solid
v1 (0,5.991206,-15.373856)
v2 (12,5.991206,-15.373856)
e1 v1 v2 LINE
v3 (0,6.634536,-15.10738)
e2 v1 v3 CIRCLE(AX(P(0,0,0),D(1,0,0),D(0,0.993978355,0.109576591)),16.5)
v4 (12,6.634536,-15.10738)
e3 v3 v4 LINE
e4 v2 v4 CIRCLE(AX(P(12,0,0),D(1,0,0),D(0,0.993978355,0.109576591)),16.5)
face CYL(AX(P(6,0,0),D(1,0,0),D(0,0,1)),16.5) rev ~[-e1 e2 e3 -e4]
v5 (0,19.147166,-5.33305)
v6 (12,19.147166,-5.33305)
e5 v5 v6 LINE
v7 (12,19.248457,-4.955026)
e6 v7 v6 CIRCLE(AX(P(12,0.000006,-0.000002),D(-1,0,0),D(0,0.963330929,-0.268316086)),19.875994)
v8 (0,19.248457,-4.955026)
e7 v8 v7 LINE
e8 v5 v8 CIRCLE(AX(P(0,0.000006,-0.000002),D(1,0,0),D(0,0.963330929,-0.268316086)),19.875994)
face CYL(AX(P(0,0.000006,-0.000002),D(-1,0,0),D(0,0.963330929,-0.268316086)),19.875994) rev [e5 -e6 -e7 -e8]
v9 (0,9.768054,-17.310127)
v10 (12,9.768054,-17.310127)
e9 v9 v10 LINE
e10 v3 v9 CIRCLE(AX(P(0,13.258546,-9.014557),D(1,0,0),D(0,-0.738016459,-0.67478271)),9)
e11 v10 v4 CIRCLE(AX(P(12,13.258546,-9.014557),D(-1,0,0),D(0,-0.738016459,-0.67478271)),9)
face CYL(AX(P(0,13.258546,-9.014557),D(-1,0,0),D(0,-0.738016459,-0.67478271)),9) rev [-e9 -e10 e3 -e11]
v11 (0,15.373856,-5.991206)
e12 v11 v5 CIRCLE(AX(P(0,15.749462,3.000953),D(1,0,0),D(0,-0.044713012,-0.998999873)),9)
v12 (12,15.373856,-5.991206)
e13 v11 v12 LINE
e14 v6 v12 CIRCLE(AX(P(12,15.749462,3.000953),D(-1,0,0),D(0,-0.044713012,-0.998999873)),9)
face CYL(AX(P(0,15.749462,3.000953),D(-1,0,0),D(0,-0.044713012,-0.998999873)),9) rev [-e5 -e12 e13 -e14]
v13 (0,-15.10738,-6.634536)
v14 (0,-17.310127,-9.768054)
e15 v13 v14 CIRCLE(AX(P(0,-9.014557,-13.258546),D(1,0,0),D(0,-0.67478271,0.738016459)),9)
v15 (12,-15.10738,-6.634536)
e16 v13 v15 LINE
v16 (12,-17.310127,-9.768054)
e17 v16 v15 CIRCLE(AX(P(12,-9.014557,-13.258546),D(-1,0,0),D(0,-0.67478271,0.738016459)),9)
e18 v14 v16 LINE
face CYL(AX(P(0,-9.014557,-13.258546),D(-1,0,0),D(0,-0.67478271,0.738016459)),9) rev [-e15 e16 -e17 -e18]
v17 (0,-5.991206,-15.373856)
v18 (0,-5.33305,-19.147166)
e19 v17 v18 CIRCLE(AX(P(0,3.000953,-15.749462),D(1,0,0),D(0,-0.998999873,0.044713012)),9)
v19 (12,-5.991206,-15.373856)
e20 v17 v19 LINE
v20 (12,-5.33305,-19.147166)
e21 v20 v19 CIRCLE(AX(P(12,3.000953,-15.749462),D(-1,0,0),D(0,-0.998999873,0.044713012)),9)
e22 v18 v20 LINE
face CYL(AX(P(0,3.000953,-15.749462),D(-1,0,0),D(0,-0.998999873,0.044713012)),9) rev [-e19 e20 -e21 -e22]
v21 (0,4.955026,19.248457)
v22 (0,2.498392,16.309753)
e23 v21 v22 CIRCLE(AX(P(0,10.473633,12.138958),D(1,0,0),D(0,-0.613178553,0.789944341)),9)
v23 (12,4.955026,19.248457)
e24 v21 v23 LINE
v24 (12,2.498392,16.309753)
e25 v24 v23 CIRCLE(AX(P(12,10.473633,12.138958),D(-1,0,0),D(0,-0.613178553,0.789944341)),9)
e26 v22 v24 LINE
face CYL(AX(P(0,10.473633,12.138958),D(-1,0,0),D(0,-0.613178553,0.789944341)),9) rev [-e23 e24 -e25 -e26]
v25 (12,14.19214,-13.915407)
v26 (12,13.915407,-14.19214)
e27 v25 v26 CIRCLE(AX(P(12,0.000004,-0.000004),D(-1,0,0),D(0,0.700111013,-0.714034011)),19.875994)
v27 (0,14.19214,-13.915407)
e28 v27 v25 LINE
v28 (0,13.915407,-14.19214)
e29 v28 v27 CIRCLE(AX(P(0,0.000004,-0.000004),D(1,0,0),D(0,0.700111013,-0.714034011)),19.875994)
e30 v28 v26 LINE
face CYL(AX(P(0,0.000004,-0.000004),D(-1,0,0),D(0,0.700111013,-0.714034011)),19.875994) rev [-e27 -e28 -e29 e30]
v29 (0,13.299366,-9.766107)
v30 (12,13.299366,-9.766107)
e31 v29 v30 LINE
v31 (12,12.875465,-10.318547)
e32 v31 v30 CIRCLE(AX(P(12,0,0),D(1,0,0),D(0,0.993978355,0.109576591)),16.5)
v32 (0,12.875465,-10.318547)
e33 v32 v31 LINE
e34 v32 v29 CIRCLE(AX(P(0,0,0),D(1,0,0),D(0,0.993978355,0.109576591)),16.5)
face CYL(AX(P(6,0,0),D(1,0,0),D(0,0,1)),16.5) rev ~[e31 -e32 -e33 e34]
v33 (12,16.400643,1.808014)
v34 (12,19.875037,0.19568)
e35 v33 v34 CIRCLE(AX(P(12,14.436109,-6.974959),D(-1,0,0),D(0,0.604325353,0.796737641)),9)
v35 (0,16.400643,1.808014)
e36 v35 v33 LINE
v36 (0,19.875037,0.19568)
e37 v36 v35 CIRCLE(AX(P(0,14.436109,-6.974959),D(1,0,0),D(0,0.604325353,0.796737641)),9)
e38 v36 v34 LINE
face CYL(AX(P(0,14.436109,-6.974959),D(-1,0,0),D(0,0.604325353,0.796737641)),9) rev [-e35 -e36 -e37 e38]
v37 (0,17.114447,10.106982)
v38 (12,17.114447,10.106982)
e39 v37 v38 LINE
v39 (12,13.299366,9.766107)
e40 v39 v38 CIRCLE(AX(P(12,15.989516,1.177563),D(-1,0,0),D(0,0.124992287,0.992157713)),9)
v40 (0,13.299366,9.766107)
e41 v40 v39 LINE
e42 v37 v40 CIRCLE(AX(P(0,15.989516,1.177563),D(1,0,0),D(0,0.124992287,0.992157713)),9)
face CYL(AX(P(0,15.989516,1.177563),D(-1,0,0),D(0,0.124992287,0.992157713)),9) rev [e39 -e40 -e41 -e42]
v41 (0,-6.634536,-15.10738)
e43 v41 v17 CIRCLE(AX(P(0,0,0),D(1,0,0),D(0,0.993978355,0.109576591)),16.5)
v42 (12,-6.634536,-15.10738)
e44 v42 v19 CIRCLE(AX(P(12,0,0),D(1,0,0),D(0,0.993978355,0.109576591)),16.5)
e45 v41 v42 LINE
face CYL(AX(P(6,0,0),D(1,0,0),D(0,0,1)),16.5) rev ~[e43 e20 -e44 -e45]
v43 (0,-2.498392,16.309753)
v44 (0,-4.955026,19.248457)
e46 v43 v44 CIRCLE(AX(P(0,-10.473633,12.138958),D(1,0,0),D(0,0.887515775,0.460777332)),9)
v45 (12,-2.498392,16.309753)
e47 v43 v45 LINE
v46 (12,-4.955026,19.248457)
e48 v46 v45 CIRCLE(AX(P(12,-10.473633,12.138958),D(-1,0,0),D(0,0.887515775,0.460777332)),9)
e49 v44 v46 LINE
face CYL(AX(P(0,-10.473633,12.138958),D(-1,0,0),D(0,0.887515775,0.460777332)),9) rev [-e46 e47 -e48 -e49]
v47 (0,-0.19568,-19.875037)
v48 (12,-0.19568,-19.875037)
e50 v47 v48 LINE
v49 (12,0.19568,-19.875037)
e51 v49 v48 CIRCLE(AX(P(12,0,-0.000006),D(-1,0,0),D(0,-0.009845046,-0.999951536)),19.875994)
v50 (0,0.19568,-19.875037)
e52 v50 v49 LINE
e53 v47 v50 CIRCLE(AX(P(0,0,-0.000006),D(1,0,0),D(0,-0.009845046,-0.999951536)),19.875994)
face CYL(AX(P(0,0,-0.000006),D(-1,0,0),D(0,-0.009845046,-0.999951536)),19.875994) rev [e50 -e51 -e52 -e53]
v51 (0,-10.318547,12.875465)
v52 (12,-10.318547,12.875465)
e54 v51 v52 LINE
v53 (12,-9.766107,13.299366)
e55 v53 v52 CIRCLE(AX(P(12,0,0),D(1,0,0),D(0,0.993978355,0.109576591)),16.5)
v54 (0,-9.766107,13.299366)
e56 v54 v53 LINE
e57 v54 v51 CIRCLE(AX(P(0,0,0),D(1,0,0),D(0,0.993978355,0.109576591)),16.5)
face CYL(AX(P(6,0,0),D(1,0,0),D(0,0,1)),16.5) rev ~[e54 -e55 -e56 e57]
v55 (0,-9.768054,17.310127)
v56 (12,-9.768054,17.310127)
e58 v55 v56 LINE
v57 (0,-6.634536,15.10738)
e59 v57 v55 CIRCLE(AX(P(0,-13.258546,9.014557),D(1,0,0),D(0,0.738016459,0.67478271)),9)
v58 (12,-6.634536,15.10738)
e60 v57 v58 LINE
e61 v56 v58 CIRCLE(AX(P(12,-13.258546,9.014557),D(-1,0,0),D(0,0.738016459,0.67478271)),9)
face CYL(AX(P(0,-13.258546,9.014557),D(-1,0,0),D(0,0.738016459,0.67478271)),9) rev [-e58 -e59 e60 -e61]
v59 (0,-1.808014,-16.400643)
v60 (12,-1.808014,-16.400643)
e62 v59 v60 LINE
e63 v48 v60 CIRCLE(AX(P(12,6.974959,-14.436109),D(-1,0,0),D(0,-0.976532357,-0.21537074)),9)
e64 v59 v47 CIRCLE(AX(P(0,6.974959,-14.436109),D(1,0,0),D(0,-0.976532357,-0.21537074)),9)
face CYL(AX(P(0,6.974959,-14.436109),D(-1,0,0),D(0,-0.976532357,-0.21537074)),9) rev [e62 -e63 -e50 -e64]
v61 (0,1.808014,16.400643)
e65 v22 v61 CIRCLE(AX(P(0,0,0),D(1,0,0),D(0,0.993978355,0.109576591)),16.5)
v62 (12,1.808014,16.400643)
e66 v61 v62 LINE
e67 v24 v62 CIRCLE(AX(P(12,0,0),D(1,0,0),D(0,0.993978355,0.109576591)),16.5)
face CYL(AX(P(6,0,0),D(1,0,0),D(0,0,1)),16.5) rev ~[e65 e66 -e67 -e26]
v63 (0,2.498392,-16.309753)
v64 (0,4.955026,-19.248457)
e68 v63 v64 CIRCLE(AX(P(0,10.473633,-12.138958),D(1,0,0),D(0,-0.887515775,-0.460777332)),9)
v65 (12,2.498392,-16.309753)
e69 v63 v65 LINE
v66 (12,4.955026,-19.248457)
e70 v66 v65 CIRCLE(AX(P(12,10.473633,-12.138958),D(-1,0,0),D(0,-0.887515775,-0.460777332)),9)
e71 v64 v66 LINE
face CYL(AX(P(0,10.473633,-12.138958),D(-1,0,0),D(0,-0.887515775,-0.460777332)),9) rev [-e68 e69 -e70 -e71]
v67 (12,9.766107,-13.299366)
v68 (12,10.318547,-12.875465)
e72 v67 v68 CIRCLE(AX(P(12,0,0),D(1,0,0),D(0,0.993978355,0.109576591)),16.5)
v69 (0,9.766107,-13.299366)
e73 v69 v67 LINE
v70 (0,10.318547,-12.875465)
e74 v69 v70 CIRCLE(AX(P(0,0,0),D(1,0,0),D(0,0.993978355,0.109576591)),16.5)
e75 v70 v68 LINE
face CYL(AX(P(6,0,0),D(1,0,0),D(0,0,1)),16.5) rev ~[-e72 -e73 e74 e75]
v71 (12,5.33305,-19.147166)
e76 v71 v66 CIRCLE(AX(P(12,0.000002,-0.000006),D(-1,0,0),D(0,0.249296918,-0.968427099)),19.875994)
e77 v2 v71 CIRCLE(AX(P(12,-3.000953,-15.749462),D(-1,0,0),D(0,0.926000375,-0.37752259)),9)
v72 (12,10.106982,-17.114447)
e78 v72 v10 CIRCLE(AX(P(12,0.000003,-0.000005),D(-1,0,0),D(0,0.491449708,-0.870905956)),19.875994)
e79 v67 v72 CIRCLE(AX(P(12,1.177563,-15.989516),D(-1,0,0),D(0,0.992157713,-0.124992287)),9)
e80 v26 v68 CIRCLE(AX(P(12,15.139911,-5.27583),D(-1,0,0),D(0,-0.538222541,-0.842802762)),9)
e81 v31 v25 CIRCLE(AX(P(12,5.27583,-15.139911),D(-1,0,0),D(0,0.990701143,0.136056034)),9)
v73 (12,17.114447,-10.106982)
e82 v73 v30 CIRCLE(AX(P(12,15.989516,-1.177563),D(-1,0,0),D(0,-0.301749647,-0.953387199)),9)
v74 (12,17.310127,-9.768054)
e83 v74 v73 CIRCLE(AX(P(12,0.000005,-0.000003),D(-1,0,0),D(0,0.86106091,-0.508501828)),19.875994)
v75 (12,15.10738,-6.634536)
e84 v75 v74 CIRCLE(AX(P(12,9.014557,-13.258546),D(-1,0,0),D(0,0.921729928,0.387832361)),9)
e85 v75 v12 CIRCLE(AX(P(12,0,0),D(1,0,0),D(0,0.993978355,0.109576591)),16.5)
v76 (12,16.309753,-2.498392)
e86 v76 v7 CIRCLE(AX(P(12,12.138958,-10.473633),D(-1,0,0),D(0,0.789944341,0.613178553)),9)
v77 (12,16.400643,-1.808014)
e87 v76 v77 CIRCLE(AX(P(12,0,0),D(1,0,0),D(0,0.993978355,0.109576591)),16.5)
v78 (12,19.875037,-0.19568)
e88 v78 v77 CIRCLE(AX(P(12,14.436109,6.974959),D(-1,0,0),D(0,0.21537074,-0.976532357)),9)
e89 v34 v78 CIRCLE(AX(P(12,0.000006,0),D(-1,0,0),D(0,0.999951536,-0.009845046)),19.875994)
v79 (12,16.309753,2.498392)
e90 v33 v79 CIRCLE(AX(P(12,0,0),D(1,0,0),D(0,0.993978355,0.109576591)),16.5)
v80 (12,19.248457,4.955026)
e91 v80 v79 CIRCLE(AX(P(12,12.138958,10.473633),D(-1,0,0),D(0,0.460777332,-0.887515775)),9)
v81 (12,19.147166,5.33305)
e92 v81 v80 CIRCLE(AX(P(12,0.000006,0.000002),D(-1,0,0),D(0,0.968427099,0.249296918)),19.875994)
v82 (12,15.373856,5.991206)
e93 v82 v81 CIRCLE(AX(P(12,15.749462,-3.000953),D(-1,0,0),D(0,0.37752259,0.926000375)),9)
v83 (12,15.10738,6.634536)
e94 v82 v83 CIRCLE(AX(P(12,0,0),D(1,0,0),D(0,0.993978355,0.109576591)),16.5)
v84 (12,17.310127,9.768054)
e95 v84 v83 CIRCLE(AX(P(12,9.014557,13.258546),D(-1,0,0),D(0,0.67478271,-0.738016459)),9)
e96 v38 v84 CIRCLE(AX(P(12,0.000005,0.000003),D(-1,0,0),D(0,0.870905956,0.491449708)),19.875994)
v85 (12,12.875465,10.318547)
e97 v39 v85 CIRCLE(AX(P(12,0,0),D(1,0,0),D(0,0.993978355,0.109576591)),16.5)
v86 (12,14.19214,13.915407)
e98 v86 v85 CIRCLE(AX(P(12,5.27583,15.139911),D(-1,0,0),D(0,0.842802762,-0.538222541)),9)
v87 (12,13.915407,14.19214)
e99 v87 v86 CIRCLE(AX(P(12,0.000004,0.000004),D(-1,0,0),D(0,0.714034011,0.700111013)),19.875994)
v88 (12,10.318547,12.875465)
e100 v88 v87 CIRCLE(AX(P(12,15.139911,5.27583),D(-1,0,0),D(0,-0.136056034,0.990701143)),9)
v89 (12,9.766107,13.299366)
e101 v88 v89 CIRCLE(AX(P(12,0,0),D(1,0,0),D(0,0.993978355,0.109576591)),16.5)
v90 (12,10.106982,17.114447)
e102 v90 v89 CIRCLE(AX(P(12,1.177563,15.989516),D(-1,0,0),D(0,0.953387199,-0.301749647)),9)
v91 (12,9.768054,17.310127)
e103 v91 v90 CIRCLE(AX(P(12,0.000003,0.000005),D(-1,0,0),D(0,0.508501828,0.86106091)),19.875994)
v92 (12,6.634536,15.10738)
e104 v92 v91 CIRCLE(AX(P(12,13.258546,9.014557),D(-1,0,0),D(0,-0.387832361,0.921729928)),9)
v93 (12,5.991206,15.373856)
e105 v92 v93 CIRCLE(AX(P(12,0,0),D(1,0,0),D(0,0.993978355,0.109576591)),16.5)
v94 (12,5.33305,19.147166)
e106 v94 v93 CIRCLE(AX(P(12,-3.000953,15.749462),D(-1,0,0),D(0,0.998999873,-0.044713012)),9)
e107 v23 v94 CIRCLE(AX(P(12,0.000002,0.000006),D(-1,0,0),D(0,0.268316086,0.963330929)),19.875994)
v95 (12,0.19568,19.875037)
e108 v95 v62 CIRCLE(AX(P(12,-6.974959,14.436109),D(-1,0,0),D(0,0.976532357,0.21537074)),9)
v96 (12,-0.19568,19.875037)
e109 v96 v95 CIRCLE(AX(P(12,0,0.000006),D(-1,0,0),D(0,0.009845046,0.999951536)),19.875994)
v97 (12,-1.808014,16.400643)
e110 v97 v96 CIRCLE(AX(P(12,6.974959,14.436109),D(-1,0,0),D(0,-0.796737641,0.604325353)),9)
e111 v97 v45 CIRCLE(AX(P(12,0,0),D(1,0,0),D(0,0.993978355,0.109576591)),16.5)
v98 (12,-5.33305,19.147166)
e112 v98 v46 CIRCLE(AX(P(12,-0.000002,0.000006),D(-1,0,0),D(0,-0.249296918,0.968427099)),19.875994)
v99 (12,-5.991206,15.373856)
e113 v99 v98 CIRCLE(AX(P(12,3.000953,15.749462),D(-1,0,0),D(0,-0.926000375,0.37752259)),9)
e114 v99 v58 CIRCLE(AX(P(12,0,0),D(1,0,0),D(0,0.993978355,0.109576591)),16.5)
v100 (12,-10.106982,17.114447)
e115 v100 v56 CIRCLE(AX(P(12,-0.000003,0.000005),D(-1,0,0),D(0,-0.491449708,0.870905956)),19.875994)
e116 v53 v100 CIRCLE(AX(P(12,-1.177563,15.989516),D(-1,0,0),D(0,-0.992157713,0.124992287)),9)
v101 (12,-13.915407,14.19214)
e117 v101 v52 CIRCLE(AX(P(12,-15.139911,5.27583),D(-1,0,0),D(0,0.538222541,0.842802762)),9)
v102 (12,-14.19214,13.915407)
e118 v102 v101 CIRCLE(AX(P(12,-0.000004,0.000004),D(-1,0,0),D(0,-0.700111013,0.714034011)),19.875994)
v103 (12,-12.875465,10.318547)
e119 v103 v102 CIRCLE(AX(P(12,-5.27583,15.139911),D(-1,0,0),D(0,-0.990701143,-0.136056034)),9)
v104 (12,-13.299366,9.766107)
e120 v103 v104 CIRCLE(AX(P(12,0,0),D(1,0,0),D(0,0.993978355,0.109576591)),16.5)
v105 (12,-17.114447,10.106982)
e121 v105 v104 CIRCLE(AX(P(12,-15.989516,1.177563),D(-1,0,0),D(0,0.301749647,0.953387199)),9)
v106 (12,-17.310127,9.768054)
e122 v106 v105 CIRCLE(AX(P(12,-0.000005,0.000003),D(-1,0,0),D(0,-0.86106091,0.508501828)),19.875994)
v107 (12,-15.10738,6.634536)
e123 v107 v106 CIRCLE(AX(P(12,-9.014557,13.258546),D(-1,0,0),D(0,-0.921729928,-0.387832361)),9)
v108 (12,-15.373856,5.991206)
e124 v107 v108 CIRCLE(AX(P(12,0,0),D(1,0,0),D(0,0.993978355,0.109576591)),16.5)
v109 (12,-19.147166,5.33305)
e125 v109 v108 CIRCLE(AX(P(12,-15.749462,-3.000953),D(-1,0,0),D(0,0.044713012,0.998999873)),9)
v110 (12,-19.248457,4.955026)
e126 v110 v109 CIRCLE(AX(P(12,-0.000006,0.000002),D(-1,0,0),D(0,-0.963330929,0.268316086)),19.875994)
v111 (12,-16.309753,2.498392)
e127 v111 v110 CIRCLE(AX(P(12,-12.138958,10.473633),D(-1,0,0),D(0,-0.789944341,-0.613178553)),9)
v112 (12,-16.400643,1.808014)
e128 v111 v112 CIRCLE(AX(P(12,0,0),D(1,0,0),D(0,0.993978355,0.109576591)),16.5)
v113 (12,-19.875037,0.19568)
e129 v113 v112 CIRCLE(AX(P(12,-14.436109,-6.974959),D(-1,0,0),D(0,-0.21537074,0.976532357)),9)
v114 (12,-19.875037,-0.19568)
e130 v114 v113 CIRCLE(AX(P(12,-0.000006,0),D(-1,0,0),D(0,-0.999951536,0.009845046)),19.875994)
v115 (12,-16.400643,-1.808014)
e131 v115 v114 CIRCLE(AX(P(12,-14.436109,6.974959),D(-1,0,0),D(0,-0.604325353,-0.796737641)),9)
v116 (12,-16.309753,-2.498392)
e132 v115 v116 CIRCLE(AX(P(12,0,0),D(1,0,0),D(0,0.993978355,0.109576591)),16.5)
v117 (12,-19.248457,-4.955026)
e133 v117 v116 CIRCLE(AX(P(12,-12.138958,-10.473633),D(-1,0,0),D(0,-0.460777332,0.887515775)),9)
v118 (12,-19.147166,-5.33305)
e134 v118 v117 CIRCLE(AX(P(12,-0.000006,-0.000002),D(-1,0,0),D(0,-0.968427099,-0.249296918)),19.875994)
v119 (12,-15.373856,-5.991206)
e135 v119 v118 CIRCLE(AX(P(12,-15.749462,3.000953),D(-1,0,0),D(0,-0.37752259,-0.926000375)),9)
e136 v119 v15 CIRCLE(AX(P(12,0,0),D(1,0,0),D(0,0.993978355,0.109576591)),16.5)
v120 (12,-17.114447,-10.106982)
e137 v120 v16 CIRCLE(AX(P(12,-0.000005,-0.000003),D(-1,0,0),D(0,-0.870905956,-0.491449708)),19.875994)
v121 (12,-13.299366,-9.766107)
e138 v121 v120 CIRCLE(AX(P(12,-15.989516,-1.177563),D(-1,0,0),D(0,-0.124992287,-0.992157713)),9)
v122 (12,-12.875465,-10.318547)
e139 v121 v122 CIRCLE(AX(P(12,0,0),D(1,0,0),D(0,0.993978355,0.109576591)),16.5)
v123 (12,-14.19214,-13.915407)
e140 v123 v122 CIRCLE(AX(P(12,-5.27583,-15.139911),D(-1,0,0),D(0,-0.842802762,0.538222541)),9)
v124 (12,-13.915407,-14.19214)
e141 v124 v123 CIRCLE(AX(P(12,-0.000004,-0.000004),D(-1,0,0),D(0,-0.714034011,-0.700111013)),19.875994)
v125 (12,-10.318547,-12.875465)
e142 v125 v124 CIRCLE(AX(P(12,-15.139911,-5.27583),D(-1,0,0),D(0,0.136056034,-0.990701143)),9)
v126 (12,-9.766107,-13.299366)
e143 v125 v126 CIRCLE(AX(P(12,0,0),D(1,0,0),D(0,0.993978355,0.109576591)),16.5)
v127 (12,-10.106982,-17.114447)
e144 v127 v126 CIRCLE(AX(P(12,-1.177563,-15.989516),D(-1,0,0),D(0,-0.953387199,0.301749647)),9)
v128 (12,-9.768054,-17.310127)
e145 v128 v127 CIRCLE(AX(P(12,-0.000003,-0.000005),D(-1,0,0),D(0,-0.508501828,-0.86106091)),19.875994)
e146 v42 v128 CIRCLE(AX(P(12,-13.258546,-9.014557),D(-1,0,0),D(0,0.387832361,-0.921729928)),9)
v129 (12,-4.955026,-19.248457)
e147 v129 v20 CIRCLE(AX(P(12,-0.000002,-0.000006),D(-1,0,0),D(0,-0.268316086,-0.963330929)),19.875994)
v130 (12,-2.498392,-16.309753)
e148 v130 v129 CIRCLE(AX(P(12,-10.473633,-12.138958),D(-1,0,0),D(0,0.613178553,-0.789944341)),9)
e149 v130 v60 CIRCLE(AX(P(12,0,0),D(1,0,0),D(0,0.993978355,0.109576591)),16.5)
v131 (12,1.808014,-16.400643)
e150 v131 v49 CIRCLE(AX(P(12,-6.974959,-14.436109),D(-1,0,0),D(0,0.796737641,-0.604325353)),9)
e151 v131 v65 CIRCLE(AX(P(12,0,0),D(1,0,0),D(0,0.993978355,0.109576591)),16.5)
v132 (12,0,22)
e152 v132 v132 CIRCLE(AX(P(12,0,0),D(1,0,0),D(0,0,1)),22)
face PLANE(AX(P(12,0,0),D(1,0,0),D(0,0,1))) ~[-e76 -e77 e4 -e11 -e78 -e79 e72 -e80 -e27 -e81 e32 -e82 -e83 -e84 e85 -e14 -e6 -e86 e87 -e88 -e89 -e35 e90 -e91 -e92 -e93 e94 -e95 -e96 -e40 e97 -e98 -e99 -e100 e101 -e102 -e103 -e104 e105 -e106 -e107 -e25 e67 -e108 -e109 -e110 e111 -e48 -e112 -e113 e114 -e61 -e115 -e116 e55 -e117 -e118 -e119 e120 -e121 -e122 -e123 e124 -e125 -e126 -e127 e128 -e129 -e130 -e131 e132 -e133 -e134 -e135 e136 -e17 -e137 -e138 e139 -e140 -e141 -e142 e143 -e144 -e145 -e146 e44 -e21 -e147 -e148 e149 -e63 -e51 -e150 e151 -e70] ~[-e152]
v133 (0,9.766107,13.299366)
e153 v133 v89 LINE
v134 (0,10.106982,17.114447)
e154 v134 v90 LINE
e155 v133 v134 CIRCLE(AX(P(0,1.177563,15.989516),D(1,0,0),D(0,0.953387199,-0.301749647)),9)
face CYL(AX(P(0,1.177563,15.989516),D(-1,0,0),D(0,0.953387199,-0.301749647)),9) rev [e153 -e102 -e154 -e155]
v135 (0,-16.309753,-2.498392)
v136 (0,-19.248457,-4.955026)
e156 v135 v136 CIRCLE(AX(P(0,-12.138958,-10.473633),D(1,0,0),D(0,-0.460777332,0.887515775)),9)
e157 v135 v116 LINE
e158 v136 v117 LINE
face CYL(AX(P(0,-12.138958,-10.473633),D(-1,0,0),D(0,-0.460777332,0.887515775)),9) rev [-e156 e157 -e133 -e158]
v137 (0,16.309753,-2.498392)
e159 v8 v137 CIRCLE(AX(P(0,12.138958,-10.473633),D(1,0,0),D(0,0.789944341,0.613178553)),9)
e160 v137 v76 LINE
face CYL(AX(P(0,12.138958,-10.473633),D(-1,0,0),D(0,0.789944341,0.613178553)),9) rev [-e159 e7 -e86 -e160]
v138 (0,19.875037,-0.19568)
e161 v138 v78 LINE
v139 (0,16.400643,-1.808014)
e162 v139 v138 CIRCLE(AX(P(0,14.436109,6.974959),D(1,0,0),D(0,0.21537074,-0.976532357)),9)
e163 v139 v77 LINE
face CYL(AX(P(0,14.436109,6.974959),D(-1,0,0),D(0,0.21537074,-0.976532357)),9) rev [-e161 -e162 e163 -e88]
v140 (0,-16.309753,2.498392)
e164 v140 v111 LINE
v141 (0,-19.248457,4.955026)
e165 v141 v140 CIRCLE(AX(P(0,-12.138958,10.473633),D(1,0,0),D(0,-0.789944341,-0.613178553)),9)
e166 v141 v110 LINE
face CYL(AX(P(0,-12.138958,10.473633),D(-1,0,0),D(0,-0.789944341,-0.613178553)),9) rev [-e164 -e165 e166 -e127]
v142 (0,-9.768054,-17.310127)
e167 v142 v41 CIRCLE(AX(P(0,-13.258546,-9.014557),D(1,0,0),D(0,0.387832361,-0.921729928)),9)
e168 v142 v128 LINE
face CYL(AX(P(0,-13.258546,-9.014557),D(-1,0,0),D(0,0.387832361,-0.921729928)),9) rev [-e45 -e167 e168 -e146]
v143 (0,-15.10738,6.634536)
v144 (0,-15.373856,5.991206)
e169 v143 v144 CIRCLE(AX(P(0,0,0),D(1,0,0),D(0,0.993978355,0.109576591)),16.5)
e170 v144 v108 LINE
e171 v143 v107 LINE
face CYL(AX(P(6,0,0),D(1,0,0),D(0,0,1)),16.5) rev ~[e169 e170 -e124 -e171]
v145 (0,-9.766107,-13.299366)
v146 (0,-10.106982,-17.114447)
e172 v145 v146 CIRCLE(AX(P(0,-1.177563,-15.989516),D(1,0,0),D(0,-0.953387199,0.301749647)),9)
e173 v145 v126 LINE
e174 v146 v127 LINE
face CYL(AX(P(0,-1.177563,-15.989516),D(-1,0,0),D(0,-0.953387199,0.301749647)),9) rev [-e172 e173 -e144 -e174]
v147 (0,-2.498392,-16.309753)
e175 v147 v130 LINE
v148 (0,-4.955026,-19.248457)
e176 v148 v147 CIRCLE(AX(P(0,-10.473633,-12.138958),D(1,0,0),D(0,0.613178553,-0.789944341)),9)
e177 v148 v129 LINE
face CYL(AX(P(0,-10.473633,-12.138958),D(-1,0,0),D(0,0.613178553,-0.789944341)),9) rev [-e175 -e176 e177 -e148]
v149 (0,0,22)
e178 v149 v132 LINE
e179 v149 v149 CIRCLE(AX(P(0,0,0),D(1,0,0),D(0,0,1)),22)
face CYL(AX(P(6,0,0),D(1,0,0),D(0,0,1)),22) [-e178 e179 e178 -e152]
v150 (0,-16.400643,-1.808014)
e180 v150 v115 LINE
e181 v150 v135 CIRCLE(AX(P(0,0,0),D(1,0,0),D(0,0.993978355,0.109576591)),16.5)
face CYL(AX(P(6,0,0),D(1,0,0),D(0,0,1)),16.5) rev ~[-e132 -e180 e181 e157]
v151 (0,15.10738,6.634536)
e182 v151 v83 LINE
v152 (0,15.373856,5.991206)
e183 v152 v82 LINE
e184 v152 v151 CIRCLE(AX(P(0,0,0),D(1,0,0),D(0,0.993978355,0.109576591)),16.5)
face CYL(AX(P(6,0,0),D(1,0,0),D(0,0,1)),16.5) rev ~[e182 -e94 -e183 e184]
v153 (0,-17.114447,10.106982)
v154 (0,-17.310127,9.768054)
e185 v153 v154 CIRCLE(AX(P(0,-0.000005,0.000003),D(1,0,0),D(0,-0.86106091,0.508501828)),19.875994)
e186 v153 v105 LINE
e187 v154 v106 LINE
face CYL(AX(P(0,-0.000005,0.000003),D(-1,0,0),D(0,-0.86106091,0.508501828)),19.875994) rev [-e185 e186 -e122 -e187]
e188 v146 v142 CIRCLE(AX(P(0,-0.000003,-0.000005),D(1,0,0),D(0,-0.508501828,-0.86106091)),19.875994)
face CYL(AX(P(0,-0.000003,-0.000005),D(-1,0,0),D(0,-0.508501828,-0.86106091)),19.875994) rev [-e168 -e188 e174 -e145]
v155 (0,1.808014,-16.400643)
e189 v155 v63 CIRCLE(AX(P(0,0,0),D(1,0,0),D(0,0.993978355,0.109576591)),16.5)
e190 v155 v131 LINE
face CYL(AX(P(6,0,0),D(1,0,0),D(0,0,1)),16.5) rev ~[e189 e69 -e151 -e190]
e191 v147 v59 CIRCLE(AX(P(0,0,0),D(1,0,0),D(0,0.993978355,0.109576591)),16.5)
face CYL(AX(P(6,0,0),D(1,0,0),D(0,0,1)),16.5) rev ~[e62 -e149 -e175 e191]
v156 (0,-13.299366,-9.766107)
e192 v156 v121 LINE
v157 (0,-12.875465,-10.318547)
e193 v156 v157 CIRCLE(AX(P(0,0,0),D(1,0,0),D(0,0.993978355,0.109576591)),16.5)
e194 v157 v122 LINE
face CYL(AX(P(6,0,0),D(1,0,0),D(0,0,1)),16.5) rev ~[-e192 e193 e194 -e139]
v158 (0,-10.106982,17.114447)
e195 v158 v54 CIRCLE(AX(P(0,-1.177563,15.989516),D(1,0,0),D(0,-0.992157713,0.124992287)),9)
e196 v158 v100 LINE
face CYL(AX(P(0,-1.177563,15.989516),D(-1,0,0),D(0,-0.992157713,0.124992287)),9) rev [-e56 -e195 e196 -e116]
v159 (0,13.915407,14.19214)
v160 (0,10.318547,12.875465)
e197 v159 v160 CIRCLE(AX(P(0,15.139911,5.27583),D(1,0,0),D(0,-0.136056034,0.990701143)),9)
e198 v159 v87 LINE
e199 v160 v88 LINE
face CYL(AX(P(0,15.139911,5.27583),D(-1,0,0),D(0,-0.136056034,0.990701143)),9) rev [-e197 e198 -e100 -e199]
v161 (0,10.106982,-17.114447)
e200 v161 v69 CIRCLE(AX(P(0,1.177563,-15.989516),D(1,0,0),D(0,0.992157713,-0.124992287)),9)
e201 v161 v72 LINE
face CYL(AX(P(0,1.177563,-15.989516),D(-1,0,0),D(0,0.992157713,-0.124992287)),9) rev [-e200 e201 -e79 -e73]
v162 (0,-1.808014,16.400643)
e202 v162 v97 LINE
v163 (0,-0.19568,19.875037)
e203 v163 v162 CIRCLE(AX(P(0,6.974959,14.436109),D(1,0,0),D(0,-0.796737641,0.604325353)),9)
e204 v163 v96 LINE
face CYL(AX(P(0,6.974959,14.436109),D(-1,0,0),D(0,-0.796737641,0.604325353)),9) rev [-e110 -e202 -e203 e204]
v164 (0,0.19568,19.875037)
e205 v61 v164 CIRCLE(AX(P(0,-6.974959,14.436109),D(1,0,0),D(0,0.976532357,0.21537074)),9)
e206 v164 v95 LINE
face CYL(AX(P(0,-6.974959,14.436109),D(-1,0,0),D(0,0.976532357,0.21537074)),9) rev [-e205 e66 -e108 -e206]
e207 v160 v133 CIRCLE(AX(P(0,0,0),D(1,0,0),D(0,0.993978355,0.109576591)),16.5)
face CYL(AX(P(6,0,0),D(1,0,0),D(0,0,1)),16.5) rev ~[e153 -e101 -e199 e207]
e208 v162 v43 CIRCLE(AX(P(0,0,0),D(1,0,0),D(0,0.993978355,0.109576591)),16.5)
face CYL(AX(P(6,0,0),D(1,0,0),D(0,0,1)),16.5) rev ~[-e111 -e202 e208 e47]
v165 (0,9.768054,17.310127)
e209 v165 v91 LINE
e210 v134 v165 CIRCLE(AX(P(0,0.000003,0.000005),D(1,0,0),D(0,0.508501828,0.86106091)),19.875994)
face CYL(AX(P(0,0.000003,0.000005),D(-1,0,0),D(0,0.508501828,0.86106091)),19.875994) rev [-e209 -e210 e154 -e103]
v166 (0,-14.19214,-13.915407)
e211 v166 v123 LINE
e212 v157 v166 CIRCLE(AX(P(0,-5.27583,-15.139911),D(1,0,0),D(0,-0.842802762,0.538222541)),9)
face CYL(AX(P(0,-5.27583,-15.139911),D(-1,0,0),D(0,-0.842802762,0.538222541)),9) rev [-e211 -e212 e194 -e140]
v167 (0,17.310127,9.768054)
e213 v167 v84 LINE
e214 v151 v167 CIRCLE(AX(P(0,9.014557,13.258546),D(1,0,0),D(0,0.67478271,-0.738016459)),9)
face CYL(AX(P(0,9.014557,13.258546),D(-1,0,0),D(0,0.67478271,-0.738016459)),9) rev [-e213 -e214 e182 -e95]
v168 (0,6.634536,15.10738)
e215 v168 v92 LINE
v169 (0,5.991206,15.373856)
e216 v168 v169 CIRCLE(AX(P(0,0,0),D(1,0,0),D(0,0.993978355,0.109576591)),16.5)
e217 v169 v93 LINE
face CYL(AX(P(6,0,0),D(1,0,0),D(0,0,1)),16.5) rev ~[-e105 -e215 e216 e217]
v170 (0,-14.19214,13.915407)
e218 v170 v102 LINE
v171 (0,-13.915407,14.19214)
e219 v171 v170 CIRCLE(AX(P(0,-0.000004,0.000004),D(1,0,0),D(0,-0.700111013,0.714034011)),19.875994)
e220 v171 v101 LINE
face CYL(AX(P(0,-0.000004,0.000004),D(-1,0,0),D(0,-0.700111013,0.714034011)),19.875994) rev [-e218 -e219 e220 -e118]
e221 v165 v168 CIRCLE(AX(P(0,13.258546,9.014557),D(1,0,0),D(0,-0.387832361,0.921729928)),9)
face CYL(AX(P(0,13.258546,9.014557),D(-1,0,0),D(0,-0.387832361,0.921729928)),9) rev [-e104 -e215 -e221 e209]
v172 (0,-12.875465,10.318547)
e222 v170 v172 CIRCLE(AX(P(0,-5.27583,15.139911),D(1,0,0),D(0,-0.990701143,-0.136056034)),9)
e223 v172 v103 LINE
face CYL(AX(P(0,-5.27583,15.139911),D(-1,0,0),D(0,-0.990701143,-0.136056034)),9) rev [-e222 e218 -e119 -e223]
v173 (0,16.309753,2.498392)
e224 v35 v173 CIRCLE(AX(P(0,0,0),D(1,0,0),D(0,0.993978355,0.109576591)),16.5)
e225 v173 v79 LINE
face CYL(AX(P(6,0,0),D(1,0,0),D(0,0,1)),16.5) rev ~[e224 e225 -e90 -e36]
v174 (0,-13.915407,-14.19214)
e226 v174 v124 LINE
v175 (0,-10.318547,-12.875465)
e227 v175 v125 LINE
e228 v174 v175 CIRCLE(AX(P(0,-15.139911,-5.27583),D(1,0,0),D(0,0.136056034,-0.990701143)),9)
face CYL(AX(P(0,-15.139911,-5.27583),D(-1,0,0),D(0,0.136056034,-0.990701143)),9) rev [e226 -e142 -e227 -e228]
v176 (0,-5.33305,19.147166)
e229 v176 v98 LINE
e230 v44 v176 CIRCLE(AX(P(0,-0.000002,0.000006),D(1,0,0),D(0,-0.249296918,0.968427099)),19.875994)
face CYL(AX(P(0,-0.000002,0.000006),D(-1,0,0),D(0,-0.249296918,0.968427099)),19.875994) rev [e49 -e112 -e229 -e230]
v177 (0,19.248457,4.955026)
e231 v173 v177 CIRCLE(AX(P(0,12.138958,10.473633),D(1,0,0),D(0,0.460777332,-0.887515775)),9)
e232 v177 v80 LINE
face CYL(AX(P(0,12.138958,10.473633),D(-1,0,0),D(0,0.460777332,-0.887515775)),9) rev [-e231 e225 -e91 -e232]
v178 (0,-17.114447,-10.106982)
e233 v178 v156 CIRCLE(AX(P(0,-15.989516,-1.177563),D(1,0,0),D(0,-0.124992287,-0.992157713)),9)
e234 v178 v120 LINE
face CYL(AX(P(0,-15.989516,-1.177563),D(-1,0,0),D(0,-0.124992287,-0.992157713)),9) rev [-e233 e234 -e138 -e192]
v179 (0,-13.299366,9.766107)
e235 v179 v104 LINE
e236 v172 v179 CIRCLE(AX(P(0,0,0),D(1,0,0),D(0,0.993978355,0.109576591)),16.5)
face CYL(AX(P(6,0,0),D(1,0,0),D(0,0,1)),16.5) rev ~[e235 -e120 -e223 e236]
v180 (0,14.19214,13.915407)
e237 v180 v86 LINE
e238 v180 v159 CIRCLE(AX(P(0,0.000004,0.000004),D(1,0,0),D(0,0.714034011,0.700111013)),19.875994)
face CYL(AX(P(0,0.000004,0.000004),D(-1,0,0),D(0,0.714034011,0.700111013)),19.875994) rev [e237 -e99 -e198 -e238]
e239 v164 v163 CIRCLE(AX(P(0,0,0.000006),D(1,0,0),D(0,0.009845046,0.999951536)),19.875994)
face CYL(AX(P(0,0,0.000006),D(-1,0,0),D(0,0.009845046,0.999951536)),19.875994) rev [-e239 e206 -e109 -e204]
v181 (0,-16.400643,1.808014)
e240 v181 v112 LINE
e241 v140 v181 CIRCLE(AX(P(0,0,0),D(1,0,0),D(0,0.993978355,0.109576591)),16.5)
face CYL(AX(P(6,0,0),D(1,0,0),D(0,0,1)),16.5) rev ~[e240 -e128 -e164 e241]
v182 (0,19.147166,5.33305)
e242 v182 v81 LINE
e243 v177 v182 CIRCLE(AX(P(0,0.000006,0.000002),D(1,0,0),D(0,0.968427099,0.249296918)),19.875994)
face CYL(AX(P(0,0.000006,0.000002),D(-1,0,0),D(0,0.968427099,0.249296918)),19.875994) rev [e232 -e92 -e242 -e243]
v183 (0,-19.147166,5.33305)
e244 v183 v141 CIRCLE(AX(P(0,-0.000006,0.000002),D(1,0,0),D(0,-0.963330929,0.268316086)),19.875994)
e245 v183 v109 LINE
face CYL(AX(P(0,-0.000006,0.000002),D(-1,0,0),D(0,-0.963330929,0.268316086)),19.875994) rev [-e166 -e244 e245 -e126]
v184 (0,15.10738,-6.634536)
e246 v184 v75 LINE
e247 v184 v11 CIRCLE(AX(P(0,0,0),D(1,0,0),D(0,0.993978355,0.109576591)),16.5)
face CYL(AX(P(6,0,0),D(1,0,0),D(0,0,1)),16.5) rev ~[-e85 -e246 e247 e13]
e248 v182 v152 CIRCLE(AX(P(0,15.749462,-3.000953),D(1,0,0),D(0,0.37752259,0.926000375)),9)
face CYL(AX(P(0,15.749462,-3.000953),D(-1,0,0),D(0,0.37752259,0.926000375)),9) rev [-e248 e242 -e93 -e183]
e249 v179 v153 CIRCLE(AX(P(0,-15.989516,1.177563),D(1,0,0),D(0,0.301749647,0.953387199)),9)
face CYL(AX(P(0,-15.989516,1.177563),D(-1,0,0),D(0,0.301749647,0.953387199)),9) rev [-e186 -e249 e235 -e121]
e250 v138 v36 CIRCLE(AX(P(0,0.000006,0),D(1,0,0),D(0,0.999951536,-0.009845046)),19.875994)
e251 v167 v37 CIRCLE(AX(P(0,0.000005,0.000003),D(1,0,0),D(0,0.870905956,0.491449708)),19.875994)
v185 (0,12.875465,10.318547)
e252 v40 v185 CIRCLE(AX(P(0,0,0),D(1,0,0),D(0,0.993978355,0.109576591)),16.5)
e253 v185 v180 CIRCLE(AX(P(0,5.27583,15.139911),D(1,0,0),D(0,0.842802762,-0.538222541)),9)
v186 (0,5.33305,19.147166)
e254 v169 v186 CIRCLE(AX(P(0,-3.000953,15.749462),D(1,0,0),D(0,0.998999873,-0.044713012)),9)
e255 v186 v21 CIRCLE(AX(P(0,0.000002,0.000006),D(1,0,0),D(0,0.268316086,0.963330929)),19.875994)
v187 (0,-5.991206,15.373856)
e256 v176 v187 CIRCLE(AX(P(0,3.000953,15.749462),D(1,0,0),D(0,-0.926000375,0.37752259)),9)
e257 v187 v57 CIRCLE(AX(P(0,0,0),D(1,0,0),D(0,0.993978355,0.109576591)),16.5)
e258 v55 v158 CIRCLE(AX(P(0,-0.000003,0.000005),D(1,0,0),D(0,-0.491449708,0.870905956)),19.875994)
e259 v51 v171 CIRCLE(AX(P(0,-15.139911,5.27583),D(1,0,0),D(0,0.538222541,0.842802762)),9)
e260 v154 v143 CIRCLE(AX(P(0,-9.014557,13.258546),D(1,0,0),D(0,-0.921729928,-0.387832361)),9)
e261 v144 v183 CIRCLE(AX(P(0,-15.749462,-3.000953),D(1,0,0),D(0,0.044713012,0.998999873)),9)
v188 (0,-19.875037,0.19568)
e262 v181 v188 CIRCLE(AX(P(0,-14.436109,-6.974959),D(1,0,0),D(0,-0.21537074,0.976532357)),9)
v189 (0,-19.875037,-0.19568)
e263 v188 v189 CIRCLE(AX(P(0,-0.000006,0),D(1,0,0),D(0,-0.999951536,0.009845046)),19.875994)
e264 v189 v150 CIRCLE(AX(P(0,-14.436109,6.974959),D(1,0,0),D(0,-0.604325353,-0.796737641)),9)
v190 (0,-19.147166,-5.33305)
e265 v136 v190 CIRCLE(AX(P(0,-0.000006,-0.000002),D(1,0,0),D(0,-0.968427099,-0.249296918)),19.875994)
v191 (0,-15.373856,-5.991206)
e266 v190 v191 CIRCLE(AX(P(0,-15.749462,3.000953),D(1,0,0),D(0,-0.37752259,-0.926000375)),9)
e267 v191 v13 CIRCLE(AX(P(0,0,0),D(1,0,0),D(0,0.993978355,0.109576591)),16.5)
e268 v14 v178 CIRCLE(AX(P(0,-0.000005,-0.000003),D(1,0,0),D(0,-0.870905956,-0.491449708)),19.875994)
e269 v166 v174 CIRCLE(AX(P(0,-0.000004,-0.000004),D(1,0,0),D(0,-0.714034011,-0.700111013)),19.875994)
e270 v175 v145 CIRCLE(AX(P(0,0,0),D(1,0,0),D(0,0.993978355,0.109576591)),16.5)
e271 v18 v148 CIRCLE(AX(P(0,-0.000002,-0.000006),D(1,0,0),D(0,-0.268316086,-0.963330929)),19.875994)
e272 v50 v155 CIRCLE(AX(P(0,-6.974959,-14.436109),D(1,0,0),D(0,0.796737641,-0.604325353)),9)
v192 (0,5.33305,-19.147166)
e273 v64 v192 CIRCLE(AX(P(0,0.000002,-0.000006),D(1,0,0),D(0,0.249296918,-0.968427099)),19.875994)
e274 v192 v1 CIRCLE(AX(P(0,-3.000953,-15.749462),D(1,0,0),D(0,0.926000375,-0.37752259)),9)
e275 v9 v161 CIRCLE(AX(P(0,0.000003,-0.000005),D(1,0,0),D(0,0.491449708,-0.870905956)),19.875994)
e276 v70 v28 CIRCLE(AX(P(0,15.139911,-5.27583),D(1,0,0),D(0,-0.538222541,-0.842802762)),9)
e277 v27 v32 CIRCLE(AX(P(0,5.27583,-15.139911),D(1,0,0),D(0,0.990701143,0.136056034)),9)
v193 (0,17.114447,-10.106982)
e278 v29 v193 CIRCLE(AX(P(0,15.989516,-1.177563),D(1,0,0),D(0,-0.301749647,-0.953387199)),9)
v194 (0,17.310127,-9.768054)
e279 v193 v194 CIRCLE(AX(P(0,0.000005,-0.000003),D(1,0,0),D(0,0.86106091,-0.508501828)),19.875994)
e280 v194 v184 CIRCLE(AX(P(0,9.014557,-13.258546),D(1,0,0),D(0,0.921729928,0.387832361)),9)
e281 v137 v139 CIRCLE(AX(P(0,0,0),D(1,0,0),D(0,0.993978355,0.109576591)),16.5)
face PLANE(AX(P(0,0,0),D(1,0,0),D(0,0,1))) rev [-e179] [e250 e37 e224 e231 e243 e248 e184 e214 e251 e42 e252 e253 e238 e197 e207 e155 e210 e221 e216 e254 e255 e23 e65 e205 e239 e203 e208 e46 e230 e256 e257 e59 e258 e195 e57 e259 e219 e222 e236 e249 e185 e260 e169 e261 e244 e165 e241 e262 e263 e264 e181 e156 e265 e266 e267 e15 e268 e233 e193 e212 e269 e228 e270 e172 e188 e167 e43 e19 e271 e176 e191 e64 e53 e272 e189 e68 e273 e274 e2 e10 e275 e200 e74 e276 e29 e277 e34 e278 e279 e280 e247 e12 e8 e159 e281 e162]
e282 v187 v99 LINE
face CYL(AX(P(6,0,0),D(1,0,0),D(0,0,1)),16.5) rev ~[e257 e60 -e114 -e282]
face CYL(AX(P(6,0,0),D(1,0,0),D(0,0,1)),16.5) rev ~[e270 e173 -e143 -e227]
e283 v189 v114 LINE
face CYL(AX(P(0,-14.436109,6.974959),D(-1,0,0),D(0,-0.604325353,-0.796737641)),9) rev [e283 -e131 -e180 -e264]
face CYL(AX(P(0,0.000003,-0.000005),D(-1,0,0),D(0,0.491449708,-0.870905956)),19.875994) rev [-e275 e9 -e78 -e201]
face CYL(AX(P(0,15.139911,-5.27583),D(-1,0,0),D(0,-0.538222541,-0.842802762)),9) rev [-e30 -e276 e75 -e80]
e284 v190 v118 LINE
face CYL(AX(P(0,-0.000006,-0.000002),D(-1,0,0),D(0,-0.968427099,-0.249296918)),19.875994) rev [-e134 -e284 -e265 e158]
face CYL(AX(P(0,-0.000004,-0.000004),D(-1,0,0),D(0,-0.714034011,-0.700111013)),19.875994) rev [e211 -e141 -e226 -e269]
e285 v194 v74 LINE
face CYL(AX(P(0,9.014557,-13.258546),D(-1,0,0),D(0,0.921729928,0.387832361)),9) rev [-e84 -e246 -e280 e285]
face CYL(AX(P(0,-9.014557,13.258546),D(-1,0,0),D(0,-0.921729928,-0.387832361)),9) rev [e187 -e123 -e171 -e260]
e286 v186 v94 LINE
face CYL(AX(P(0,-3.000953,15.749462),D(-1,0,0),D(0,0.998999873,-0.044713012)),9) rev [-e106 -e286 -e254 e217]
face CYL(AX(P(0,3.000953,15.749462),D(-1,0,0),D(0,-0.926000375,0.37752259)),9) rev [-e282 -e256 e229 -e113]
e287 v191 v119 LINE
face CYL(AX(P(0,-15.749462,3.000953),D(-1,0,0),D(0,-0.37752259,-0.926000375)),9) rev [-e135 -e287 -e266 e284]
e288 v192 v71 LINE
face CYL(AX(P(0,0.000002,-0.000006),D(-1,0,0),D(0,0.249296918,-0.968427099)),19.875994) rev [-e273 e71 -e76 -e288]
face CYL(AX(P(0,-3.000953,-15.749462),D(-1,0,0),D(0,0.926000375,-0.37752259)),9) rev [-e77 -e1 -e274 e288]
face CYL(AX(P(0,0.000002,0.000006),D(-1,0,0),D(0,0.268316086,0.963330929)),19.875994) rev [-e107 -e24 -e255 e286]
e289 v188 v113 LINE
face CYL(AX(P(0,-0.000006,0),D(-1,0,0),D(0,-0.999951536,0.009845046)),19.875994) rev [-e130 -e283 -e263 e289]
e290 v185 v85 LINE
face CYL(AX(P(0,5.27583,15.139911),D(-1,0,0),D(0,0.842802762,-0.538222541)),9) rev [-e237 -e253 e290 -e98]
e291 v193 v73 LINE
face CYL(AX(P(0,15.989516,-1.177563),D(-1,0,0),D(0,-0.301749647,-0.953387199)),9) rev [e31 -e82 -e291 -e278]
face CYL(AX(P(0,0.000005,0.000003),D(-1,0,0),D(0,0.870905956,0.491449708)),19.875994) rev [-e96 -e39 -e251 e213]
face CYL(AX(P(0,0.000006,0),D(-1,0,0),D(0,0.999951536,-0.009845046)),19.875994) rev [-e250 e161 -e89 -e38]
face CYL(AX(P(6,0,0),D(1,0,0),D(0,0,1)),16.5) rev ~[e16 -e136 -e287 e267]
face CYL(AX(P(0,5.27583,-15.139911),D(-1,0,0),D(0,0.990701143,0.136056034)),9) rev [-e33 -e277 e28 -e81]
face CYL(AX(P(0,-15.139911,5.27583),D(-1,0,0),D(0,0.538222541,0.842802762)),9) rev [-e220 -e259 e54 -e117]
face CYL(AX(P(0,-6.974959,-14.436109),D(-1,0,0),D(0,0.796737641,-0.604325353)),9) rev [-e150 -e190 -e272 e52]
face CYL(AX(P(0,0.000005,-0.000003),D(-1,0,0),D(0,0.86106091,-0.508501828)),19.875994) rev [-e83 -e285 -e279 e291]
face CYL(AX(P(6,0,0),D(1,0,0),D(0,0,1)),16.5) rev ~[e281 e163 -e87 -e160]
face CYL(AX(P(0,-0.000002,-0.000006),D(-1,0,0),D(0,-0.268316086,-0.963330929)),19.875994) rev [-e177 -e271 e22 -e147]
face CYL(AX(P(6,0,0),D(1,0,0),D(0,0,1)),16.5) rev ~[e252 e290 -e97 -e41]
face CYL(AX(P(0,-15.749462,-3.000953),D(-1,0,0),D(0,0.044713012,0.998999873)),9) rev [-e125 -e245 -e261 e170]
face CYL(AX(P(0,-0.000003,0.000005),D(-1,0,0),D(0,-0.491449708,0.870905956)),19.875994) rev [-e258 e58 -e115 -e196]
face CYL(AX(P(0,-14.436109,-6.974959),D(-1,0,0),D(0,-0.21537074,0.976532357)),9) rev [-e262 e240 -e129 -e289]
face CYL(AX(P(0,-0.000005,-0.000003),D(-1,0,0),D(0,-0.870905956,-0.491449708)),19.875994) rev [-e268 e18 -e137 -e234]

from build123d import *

# Parameters (mm, degrees)
BASPROSKE_W     = 12
BASPROSKE_H     = 5.5
TOOTHCUT_DEPTH  = 34.346664001
TEETHCUTS_COUNT = 24
TEETHCUTS_ANGLE = 345


with BuildPart() as part:
    # BasProSke → Base-Revolve (revolve)
    with BuildSketch(Plane(origin=(0, 0, 0), x_dir=(1, 0, 0), z_dir=(0, 1, 0)), mode=Mode.PRIVATE) as base_revolve_sk:
        with Locations((6, 19.25)):
            Rectangle(BASPROSKE_W, BASPROSKE_H)
    revolve(base_revolve_sk.sketch.rotate(Axis((-10, 0, 0), (1, 0, 0)), 180), axis=Axis((-10, 0, 0), (1, 0, 0)))

    # TooCutSke → ToothCut (cut, through all)
    with BuildSketch(Plane(origin=(0, 0, 0), x_dir=(0, 0, -1), z_dir=(1, 0, 0))):
        with BuildLine():
            ThreePointArc((1.813832515, 16.374445235), (1.194459065, 18.21243131), (0.195680074, 19.875036737))
            ThreePointArc((0.195680074, 19.875036737), (0, 19.876), (-0.195680074, 19.875036737))
            ThreePointArc((-0.195680074, 19.875036737), (-1.194459065, 18.21243131), (-1.813832515, 16.374445235))
            ThreePointArc((-1.813832515, 16.374445235), (0, 16.4746), (1.813832515, 16.374445235))
        make_face()
    toothcut = extrude(amount=TOOTHCUT_DEPTH, mode=Mode.SUBTRACT)

    # TeethCuts: ToothCut ×24 about axis
    teethcuts_axis = Axis((-10, 0, 0), (1, 0, 0))
    for i in range(1, TEETHCUTS_COUNT):
        add(toothcut.rotate(teethcuts_axis, i * TEETHCUTS_ANGLE / (TEETHCUTS_COUNT - 1)), mode=Mode.SUBTRACT)


solid = part.part
